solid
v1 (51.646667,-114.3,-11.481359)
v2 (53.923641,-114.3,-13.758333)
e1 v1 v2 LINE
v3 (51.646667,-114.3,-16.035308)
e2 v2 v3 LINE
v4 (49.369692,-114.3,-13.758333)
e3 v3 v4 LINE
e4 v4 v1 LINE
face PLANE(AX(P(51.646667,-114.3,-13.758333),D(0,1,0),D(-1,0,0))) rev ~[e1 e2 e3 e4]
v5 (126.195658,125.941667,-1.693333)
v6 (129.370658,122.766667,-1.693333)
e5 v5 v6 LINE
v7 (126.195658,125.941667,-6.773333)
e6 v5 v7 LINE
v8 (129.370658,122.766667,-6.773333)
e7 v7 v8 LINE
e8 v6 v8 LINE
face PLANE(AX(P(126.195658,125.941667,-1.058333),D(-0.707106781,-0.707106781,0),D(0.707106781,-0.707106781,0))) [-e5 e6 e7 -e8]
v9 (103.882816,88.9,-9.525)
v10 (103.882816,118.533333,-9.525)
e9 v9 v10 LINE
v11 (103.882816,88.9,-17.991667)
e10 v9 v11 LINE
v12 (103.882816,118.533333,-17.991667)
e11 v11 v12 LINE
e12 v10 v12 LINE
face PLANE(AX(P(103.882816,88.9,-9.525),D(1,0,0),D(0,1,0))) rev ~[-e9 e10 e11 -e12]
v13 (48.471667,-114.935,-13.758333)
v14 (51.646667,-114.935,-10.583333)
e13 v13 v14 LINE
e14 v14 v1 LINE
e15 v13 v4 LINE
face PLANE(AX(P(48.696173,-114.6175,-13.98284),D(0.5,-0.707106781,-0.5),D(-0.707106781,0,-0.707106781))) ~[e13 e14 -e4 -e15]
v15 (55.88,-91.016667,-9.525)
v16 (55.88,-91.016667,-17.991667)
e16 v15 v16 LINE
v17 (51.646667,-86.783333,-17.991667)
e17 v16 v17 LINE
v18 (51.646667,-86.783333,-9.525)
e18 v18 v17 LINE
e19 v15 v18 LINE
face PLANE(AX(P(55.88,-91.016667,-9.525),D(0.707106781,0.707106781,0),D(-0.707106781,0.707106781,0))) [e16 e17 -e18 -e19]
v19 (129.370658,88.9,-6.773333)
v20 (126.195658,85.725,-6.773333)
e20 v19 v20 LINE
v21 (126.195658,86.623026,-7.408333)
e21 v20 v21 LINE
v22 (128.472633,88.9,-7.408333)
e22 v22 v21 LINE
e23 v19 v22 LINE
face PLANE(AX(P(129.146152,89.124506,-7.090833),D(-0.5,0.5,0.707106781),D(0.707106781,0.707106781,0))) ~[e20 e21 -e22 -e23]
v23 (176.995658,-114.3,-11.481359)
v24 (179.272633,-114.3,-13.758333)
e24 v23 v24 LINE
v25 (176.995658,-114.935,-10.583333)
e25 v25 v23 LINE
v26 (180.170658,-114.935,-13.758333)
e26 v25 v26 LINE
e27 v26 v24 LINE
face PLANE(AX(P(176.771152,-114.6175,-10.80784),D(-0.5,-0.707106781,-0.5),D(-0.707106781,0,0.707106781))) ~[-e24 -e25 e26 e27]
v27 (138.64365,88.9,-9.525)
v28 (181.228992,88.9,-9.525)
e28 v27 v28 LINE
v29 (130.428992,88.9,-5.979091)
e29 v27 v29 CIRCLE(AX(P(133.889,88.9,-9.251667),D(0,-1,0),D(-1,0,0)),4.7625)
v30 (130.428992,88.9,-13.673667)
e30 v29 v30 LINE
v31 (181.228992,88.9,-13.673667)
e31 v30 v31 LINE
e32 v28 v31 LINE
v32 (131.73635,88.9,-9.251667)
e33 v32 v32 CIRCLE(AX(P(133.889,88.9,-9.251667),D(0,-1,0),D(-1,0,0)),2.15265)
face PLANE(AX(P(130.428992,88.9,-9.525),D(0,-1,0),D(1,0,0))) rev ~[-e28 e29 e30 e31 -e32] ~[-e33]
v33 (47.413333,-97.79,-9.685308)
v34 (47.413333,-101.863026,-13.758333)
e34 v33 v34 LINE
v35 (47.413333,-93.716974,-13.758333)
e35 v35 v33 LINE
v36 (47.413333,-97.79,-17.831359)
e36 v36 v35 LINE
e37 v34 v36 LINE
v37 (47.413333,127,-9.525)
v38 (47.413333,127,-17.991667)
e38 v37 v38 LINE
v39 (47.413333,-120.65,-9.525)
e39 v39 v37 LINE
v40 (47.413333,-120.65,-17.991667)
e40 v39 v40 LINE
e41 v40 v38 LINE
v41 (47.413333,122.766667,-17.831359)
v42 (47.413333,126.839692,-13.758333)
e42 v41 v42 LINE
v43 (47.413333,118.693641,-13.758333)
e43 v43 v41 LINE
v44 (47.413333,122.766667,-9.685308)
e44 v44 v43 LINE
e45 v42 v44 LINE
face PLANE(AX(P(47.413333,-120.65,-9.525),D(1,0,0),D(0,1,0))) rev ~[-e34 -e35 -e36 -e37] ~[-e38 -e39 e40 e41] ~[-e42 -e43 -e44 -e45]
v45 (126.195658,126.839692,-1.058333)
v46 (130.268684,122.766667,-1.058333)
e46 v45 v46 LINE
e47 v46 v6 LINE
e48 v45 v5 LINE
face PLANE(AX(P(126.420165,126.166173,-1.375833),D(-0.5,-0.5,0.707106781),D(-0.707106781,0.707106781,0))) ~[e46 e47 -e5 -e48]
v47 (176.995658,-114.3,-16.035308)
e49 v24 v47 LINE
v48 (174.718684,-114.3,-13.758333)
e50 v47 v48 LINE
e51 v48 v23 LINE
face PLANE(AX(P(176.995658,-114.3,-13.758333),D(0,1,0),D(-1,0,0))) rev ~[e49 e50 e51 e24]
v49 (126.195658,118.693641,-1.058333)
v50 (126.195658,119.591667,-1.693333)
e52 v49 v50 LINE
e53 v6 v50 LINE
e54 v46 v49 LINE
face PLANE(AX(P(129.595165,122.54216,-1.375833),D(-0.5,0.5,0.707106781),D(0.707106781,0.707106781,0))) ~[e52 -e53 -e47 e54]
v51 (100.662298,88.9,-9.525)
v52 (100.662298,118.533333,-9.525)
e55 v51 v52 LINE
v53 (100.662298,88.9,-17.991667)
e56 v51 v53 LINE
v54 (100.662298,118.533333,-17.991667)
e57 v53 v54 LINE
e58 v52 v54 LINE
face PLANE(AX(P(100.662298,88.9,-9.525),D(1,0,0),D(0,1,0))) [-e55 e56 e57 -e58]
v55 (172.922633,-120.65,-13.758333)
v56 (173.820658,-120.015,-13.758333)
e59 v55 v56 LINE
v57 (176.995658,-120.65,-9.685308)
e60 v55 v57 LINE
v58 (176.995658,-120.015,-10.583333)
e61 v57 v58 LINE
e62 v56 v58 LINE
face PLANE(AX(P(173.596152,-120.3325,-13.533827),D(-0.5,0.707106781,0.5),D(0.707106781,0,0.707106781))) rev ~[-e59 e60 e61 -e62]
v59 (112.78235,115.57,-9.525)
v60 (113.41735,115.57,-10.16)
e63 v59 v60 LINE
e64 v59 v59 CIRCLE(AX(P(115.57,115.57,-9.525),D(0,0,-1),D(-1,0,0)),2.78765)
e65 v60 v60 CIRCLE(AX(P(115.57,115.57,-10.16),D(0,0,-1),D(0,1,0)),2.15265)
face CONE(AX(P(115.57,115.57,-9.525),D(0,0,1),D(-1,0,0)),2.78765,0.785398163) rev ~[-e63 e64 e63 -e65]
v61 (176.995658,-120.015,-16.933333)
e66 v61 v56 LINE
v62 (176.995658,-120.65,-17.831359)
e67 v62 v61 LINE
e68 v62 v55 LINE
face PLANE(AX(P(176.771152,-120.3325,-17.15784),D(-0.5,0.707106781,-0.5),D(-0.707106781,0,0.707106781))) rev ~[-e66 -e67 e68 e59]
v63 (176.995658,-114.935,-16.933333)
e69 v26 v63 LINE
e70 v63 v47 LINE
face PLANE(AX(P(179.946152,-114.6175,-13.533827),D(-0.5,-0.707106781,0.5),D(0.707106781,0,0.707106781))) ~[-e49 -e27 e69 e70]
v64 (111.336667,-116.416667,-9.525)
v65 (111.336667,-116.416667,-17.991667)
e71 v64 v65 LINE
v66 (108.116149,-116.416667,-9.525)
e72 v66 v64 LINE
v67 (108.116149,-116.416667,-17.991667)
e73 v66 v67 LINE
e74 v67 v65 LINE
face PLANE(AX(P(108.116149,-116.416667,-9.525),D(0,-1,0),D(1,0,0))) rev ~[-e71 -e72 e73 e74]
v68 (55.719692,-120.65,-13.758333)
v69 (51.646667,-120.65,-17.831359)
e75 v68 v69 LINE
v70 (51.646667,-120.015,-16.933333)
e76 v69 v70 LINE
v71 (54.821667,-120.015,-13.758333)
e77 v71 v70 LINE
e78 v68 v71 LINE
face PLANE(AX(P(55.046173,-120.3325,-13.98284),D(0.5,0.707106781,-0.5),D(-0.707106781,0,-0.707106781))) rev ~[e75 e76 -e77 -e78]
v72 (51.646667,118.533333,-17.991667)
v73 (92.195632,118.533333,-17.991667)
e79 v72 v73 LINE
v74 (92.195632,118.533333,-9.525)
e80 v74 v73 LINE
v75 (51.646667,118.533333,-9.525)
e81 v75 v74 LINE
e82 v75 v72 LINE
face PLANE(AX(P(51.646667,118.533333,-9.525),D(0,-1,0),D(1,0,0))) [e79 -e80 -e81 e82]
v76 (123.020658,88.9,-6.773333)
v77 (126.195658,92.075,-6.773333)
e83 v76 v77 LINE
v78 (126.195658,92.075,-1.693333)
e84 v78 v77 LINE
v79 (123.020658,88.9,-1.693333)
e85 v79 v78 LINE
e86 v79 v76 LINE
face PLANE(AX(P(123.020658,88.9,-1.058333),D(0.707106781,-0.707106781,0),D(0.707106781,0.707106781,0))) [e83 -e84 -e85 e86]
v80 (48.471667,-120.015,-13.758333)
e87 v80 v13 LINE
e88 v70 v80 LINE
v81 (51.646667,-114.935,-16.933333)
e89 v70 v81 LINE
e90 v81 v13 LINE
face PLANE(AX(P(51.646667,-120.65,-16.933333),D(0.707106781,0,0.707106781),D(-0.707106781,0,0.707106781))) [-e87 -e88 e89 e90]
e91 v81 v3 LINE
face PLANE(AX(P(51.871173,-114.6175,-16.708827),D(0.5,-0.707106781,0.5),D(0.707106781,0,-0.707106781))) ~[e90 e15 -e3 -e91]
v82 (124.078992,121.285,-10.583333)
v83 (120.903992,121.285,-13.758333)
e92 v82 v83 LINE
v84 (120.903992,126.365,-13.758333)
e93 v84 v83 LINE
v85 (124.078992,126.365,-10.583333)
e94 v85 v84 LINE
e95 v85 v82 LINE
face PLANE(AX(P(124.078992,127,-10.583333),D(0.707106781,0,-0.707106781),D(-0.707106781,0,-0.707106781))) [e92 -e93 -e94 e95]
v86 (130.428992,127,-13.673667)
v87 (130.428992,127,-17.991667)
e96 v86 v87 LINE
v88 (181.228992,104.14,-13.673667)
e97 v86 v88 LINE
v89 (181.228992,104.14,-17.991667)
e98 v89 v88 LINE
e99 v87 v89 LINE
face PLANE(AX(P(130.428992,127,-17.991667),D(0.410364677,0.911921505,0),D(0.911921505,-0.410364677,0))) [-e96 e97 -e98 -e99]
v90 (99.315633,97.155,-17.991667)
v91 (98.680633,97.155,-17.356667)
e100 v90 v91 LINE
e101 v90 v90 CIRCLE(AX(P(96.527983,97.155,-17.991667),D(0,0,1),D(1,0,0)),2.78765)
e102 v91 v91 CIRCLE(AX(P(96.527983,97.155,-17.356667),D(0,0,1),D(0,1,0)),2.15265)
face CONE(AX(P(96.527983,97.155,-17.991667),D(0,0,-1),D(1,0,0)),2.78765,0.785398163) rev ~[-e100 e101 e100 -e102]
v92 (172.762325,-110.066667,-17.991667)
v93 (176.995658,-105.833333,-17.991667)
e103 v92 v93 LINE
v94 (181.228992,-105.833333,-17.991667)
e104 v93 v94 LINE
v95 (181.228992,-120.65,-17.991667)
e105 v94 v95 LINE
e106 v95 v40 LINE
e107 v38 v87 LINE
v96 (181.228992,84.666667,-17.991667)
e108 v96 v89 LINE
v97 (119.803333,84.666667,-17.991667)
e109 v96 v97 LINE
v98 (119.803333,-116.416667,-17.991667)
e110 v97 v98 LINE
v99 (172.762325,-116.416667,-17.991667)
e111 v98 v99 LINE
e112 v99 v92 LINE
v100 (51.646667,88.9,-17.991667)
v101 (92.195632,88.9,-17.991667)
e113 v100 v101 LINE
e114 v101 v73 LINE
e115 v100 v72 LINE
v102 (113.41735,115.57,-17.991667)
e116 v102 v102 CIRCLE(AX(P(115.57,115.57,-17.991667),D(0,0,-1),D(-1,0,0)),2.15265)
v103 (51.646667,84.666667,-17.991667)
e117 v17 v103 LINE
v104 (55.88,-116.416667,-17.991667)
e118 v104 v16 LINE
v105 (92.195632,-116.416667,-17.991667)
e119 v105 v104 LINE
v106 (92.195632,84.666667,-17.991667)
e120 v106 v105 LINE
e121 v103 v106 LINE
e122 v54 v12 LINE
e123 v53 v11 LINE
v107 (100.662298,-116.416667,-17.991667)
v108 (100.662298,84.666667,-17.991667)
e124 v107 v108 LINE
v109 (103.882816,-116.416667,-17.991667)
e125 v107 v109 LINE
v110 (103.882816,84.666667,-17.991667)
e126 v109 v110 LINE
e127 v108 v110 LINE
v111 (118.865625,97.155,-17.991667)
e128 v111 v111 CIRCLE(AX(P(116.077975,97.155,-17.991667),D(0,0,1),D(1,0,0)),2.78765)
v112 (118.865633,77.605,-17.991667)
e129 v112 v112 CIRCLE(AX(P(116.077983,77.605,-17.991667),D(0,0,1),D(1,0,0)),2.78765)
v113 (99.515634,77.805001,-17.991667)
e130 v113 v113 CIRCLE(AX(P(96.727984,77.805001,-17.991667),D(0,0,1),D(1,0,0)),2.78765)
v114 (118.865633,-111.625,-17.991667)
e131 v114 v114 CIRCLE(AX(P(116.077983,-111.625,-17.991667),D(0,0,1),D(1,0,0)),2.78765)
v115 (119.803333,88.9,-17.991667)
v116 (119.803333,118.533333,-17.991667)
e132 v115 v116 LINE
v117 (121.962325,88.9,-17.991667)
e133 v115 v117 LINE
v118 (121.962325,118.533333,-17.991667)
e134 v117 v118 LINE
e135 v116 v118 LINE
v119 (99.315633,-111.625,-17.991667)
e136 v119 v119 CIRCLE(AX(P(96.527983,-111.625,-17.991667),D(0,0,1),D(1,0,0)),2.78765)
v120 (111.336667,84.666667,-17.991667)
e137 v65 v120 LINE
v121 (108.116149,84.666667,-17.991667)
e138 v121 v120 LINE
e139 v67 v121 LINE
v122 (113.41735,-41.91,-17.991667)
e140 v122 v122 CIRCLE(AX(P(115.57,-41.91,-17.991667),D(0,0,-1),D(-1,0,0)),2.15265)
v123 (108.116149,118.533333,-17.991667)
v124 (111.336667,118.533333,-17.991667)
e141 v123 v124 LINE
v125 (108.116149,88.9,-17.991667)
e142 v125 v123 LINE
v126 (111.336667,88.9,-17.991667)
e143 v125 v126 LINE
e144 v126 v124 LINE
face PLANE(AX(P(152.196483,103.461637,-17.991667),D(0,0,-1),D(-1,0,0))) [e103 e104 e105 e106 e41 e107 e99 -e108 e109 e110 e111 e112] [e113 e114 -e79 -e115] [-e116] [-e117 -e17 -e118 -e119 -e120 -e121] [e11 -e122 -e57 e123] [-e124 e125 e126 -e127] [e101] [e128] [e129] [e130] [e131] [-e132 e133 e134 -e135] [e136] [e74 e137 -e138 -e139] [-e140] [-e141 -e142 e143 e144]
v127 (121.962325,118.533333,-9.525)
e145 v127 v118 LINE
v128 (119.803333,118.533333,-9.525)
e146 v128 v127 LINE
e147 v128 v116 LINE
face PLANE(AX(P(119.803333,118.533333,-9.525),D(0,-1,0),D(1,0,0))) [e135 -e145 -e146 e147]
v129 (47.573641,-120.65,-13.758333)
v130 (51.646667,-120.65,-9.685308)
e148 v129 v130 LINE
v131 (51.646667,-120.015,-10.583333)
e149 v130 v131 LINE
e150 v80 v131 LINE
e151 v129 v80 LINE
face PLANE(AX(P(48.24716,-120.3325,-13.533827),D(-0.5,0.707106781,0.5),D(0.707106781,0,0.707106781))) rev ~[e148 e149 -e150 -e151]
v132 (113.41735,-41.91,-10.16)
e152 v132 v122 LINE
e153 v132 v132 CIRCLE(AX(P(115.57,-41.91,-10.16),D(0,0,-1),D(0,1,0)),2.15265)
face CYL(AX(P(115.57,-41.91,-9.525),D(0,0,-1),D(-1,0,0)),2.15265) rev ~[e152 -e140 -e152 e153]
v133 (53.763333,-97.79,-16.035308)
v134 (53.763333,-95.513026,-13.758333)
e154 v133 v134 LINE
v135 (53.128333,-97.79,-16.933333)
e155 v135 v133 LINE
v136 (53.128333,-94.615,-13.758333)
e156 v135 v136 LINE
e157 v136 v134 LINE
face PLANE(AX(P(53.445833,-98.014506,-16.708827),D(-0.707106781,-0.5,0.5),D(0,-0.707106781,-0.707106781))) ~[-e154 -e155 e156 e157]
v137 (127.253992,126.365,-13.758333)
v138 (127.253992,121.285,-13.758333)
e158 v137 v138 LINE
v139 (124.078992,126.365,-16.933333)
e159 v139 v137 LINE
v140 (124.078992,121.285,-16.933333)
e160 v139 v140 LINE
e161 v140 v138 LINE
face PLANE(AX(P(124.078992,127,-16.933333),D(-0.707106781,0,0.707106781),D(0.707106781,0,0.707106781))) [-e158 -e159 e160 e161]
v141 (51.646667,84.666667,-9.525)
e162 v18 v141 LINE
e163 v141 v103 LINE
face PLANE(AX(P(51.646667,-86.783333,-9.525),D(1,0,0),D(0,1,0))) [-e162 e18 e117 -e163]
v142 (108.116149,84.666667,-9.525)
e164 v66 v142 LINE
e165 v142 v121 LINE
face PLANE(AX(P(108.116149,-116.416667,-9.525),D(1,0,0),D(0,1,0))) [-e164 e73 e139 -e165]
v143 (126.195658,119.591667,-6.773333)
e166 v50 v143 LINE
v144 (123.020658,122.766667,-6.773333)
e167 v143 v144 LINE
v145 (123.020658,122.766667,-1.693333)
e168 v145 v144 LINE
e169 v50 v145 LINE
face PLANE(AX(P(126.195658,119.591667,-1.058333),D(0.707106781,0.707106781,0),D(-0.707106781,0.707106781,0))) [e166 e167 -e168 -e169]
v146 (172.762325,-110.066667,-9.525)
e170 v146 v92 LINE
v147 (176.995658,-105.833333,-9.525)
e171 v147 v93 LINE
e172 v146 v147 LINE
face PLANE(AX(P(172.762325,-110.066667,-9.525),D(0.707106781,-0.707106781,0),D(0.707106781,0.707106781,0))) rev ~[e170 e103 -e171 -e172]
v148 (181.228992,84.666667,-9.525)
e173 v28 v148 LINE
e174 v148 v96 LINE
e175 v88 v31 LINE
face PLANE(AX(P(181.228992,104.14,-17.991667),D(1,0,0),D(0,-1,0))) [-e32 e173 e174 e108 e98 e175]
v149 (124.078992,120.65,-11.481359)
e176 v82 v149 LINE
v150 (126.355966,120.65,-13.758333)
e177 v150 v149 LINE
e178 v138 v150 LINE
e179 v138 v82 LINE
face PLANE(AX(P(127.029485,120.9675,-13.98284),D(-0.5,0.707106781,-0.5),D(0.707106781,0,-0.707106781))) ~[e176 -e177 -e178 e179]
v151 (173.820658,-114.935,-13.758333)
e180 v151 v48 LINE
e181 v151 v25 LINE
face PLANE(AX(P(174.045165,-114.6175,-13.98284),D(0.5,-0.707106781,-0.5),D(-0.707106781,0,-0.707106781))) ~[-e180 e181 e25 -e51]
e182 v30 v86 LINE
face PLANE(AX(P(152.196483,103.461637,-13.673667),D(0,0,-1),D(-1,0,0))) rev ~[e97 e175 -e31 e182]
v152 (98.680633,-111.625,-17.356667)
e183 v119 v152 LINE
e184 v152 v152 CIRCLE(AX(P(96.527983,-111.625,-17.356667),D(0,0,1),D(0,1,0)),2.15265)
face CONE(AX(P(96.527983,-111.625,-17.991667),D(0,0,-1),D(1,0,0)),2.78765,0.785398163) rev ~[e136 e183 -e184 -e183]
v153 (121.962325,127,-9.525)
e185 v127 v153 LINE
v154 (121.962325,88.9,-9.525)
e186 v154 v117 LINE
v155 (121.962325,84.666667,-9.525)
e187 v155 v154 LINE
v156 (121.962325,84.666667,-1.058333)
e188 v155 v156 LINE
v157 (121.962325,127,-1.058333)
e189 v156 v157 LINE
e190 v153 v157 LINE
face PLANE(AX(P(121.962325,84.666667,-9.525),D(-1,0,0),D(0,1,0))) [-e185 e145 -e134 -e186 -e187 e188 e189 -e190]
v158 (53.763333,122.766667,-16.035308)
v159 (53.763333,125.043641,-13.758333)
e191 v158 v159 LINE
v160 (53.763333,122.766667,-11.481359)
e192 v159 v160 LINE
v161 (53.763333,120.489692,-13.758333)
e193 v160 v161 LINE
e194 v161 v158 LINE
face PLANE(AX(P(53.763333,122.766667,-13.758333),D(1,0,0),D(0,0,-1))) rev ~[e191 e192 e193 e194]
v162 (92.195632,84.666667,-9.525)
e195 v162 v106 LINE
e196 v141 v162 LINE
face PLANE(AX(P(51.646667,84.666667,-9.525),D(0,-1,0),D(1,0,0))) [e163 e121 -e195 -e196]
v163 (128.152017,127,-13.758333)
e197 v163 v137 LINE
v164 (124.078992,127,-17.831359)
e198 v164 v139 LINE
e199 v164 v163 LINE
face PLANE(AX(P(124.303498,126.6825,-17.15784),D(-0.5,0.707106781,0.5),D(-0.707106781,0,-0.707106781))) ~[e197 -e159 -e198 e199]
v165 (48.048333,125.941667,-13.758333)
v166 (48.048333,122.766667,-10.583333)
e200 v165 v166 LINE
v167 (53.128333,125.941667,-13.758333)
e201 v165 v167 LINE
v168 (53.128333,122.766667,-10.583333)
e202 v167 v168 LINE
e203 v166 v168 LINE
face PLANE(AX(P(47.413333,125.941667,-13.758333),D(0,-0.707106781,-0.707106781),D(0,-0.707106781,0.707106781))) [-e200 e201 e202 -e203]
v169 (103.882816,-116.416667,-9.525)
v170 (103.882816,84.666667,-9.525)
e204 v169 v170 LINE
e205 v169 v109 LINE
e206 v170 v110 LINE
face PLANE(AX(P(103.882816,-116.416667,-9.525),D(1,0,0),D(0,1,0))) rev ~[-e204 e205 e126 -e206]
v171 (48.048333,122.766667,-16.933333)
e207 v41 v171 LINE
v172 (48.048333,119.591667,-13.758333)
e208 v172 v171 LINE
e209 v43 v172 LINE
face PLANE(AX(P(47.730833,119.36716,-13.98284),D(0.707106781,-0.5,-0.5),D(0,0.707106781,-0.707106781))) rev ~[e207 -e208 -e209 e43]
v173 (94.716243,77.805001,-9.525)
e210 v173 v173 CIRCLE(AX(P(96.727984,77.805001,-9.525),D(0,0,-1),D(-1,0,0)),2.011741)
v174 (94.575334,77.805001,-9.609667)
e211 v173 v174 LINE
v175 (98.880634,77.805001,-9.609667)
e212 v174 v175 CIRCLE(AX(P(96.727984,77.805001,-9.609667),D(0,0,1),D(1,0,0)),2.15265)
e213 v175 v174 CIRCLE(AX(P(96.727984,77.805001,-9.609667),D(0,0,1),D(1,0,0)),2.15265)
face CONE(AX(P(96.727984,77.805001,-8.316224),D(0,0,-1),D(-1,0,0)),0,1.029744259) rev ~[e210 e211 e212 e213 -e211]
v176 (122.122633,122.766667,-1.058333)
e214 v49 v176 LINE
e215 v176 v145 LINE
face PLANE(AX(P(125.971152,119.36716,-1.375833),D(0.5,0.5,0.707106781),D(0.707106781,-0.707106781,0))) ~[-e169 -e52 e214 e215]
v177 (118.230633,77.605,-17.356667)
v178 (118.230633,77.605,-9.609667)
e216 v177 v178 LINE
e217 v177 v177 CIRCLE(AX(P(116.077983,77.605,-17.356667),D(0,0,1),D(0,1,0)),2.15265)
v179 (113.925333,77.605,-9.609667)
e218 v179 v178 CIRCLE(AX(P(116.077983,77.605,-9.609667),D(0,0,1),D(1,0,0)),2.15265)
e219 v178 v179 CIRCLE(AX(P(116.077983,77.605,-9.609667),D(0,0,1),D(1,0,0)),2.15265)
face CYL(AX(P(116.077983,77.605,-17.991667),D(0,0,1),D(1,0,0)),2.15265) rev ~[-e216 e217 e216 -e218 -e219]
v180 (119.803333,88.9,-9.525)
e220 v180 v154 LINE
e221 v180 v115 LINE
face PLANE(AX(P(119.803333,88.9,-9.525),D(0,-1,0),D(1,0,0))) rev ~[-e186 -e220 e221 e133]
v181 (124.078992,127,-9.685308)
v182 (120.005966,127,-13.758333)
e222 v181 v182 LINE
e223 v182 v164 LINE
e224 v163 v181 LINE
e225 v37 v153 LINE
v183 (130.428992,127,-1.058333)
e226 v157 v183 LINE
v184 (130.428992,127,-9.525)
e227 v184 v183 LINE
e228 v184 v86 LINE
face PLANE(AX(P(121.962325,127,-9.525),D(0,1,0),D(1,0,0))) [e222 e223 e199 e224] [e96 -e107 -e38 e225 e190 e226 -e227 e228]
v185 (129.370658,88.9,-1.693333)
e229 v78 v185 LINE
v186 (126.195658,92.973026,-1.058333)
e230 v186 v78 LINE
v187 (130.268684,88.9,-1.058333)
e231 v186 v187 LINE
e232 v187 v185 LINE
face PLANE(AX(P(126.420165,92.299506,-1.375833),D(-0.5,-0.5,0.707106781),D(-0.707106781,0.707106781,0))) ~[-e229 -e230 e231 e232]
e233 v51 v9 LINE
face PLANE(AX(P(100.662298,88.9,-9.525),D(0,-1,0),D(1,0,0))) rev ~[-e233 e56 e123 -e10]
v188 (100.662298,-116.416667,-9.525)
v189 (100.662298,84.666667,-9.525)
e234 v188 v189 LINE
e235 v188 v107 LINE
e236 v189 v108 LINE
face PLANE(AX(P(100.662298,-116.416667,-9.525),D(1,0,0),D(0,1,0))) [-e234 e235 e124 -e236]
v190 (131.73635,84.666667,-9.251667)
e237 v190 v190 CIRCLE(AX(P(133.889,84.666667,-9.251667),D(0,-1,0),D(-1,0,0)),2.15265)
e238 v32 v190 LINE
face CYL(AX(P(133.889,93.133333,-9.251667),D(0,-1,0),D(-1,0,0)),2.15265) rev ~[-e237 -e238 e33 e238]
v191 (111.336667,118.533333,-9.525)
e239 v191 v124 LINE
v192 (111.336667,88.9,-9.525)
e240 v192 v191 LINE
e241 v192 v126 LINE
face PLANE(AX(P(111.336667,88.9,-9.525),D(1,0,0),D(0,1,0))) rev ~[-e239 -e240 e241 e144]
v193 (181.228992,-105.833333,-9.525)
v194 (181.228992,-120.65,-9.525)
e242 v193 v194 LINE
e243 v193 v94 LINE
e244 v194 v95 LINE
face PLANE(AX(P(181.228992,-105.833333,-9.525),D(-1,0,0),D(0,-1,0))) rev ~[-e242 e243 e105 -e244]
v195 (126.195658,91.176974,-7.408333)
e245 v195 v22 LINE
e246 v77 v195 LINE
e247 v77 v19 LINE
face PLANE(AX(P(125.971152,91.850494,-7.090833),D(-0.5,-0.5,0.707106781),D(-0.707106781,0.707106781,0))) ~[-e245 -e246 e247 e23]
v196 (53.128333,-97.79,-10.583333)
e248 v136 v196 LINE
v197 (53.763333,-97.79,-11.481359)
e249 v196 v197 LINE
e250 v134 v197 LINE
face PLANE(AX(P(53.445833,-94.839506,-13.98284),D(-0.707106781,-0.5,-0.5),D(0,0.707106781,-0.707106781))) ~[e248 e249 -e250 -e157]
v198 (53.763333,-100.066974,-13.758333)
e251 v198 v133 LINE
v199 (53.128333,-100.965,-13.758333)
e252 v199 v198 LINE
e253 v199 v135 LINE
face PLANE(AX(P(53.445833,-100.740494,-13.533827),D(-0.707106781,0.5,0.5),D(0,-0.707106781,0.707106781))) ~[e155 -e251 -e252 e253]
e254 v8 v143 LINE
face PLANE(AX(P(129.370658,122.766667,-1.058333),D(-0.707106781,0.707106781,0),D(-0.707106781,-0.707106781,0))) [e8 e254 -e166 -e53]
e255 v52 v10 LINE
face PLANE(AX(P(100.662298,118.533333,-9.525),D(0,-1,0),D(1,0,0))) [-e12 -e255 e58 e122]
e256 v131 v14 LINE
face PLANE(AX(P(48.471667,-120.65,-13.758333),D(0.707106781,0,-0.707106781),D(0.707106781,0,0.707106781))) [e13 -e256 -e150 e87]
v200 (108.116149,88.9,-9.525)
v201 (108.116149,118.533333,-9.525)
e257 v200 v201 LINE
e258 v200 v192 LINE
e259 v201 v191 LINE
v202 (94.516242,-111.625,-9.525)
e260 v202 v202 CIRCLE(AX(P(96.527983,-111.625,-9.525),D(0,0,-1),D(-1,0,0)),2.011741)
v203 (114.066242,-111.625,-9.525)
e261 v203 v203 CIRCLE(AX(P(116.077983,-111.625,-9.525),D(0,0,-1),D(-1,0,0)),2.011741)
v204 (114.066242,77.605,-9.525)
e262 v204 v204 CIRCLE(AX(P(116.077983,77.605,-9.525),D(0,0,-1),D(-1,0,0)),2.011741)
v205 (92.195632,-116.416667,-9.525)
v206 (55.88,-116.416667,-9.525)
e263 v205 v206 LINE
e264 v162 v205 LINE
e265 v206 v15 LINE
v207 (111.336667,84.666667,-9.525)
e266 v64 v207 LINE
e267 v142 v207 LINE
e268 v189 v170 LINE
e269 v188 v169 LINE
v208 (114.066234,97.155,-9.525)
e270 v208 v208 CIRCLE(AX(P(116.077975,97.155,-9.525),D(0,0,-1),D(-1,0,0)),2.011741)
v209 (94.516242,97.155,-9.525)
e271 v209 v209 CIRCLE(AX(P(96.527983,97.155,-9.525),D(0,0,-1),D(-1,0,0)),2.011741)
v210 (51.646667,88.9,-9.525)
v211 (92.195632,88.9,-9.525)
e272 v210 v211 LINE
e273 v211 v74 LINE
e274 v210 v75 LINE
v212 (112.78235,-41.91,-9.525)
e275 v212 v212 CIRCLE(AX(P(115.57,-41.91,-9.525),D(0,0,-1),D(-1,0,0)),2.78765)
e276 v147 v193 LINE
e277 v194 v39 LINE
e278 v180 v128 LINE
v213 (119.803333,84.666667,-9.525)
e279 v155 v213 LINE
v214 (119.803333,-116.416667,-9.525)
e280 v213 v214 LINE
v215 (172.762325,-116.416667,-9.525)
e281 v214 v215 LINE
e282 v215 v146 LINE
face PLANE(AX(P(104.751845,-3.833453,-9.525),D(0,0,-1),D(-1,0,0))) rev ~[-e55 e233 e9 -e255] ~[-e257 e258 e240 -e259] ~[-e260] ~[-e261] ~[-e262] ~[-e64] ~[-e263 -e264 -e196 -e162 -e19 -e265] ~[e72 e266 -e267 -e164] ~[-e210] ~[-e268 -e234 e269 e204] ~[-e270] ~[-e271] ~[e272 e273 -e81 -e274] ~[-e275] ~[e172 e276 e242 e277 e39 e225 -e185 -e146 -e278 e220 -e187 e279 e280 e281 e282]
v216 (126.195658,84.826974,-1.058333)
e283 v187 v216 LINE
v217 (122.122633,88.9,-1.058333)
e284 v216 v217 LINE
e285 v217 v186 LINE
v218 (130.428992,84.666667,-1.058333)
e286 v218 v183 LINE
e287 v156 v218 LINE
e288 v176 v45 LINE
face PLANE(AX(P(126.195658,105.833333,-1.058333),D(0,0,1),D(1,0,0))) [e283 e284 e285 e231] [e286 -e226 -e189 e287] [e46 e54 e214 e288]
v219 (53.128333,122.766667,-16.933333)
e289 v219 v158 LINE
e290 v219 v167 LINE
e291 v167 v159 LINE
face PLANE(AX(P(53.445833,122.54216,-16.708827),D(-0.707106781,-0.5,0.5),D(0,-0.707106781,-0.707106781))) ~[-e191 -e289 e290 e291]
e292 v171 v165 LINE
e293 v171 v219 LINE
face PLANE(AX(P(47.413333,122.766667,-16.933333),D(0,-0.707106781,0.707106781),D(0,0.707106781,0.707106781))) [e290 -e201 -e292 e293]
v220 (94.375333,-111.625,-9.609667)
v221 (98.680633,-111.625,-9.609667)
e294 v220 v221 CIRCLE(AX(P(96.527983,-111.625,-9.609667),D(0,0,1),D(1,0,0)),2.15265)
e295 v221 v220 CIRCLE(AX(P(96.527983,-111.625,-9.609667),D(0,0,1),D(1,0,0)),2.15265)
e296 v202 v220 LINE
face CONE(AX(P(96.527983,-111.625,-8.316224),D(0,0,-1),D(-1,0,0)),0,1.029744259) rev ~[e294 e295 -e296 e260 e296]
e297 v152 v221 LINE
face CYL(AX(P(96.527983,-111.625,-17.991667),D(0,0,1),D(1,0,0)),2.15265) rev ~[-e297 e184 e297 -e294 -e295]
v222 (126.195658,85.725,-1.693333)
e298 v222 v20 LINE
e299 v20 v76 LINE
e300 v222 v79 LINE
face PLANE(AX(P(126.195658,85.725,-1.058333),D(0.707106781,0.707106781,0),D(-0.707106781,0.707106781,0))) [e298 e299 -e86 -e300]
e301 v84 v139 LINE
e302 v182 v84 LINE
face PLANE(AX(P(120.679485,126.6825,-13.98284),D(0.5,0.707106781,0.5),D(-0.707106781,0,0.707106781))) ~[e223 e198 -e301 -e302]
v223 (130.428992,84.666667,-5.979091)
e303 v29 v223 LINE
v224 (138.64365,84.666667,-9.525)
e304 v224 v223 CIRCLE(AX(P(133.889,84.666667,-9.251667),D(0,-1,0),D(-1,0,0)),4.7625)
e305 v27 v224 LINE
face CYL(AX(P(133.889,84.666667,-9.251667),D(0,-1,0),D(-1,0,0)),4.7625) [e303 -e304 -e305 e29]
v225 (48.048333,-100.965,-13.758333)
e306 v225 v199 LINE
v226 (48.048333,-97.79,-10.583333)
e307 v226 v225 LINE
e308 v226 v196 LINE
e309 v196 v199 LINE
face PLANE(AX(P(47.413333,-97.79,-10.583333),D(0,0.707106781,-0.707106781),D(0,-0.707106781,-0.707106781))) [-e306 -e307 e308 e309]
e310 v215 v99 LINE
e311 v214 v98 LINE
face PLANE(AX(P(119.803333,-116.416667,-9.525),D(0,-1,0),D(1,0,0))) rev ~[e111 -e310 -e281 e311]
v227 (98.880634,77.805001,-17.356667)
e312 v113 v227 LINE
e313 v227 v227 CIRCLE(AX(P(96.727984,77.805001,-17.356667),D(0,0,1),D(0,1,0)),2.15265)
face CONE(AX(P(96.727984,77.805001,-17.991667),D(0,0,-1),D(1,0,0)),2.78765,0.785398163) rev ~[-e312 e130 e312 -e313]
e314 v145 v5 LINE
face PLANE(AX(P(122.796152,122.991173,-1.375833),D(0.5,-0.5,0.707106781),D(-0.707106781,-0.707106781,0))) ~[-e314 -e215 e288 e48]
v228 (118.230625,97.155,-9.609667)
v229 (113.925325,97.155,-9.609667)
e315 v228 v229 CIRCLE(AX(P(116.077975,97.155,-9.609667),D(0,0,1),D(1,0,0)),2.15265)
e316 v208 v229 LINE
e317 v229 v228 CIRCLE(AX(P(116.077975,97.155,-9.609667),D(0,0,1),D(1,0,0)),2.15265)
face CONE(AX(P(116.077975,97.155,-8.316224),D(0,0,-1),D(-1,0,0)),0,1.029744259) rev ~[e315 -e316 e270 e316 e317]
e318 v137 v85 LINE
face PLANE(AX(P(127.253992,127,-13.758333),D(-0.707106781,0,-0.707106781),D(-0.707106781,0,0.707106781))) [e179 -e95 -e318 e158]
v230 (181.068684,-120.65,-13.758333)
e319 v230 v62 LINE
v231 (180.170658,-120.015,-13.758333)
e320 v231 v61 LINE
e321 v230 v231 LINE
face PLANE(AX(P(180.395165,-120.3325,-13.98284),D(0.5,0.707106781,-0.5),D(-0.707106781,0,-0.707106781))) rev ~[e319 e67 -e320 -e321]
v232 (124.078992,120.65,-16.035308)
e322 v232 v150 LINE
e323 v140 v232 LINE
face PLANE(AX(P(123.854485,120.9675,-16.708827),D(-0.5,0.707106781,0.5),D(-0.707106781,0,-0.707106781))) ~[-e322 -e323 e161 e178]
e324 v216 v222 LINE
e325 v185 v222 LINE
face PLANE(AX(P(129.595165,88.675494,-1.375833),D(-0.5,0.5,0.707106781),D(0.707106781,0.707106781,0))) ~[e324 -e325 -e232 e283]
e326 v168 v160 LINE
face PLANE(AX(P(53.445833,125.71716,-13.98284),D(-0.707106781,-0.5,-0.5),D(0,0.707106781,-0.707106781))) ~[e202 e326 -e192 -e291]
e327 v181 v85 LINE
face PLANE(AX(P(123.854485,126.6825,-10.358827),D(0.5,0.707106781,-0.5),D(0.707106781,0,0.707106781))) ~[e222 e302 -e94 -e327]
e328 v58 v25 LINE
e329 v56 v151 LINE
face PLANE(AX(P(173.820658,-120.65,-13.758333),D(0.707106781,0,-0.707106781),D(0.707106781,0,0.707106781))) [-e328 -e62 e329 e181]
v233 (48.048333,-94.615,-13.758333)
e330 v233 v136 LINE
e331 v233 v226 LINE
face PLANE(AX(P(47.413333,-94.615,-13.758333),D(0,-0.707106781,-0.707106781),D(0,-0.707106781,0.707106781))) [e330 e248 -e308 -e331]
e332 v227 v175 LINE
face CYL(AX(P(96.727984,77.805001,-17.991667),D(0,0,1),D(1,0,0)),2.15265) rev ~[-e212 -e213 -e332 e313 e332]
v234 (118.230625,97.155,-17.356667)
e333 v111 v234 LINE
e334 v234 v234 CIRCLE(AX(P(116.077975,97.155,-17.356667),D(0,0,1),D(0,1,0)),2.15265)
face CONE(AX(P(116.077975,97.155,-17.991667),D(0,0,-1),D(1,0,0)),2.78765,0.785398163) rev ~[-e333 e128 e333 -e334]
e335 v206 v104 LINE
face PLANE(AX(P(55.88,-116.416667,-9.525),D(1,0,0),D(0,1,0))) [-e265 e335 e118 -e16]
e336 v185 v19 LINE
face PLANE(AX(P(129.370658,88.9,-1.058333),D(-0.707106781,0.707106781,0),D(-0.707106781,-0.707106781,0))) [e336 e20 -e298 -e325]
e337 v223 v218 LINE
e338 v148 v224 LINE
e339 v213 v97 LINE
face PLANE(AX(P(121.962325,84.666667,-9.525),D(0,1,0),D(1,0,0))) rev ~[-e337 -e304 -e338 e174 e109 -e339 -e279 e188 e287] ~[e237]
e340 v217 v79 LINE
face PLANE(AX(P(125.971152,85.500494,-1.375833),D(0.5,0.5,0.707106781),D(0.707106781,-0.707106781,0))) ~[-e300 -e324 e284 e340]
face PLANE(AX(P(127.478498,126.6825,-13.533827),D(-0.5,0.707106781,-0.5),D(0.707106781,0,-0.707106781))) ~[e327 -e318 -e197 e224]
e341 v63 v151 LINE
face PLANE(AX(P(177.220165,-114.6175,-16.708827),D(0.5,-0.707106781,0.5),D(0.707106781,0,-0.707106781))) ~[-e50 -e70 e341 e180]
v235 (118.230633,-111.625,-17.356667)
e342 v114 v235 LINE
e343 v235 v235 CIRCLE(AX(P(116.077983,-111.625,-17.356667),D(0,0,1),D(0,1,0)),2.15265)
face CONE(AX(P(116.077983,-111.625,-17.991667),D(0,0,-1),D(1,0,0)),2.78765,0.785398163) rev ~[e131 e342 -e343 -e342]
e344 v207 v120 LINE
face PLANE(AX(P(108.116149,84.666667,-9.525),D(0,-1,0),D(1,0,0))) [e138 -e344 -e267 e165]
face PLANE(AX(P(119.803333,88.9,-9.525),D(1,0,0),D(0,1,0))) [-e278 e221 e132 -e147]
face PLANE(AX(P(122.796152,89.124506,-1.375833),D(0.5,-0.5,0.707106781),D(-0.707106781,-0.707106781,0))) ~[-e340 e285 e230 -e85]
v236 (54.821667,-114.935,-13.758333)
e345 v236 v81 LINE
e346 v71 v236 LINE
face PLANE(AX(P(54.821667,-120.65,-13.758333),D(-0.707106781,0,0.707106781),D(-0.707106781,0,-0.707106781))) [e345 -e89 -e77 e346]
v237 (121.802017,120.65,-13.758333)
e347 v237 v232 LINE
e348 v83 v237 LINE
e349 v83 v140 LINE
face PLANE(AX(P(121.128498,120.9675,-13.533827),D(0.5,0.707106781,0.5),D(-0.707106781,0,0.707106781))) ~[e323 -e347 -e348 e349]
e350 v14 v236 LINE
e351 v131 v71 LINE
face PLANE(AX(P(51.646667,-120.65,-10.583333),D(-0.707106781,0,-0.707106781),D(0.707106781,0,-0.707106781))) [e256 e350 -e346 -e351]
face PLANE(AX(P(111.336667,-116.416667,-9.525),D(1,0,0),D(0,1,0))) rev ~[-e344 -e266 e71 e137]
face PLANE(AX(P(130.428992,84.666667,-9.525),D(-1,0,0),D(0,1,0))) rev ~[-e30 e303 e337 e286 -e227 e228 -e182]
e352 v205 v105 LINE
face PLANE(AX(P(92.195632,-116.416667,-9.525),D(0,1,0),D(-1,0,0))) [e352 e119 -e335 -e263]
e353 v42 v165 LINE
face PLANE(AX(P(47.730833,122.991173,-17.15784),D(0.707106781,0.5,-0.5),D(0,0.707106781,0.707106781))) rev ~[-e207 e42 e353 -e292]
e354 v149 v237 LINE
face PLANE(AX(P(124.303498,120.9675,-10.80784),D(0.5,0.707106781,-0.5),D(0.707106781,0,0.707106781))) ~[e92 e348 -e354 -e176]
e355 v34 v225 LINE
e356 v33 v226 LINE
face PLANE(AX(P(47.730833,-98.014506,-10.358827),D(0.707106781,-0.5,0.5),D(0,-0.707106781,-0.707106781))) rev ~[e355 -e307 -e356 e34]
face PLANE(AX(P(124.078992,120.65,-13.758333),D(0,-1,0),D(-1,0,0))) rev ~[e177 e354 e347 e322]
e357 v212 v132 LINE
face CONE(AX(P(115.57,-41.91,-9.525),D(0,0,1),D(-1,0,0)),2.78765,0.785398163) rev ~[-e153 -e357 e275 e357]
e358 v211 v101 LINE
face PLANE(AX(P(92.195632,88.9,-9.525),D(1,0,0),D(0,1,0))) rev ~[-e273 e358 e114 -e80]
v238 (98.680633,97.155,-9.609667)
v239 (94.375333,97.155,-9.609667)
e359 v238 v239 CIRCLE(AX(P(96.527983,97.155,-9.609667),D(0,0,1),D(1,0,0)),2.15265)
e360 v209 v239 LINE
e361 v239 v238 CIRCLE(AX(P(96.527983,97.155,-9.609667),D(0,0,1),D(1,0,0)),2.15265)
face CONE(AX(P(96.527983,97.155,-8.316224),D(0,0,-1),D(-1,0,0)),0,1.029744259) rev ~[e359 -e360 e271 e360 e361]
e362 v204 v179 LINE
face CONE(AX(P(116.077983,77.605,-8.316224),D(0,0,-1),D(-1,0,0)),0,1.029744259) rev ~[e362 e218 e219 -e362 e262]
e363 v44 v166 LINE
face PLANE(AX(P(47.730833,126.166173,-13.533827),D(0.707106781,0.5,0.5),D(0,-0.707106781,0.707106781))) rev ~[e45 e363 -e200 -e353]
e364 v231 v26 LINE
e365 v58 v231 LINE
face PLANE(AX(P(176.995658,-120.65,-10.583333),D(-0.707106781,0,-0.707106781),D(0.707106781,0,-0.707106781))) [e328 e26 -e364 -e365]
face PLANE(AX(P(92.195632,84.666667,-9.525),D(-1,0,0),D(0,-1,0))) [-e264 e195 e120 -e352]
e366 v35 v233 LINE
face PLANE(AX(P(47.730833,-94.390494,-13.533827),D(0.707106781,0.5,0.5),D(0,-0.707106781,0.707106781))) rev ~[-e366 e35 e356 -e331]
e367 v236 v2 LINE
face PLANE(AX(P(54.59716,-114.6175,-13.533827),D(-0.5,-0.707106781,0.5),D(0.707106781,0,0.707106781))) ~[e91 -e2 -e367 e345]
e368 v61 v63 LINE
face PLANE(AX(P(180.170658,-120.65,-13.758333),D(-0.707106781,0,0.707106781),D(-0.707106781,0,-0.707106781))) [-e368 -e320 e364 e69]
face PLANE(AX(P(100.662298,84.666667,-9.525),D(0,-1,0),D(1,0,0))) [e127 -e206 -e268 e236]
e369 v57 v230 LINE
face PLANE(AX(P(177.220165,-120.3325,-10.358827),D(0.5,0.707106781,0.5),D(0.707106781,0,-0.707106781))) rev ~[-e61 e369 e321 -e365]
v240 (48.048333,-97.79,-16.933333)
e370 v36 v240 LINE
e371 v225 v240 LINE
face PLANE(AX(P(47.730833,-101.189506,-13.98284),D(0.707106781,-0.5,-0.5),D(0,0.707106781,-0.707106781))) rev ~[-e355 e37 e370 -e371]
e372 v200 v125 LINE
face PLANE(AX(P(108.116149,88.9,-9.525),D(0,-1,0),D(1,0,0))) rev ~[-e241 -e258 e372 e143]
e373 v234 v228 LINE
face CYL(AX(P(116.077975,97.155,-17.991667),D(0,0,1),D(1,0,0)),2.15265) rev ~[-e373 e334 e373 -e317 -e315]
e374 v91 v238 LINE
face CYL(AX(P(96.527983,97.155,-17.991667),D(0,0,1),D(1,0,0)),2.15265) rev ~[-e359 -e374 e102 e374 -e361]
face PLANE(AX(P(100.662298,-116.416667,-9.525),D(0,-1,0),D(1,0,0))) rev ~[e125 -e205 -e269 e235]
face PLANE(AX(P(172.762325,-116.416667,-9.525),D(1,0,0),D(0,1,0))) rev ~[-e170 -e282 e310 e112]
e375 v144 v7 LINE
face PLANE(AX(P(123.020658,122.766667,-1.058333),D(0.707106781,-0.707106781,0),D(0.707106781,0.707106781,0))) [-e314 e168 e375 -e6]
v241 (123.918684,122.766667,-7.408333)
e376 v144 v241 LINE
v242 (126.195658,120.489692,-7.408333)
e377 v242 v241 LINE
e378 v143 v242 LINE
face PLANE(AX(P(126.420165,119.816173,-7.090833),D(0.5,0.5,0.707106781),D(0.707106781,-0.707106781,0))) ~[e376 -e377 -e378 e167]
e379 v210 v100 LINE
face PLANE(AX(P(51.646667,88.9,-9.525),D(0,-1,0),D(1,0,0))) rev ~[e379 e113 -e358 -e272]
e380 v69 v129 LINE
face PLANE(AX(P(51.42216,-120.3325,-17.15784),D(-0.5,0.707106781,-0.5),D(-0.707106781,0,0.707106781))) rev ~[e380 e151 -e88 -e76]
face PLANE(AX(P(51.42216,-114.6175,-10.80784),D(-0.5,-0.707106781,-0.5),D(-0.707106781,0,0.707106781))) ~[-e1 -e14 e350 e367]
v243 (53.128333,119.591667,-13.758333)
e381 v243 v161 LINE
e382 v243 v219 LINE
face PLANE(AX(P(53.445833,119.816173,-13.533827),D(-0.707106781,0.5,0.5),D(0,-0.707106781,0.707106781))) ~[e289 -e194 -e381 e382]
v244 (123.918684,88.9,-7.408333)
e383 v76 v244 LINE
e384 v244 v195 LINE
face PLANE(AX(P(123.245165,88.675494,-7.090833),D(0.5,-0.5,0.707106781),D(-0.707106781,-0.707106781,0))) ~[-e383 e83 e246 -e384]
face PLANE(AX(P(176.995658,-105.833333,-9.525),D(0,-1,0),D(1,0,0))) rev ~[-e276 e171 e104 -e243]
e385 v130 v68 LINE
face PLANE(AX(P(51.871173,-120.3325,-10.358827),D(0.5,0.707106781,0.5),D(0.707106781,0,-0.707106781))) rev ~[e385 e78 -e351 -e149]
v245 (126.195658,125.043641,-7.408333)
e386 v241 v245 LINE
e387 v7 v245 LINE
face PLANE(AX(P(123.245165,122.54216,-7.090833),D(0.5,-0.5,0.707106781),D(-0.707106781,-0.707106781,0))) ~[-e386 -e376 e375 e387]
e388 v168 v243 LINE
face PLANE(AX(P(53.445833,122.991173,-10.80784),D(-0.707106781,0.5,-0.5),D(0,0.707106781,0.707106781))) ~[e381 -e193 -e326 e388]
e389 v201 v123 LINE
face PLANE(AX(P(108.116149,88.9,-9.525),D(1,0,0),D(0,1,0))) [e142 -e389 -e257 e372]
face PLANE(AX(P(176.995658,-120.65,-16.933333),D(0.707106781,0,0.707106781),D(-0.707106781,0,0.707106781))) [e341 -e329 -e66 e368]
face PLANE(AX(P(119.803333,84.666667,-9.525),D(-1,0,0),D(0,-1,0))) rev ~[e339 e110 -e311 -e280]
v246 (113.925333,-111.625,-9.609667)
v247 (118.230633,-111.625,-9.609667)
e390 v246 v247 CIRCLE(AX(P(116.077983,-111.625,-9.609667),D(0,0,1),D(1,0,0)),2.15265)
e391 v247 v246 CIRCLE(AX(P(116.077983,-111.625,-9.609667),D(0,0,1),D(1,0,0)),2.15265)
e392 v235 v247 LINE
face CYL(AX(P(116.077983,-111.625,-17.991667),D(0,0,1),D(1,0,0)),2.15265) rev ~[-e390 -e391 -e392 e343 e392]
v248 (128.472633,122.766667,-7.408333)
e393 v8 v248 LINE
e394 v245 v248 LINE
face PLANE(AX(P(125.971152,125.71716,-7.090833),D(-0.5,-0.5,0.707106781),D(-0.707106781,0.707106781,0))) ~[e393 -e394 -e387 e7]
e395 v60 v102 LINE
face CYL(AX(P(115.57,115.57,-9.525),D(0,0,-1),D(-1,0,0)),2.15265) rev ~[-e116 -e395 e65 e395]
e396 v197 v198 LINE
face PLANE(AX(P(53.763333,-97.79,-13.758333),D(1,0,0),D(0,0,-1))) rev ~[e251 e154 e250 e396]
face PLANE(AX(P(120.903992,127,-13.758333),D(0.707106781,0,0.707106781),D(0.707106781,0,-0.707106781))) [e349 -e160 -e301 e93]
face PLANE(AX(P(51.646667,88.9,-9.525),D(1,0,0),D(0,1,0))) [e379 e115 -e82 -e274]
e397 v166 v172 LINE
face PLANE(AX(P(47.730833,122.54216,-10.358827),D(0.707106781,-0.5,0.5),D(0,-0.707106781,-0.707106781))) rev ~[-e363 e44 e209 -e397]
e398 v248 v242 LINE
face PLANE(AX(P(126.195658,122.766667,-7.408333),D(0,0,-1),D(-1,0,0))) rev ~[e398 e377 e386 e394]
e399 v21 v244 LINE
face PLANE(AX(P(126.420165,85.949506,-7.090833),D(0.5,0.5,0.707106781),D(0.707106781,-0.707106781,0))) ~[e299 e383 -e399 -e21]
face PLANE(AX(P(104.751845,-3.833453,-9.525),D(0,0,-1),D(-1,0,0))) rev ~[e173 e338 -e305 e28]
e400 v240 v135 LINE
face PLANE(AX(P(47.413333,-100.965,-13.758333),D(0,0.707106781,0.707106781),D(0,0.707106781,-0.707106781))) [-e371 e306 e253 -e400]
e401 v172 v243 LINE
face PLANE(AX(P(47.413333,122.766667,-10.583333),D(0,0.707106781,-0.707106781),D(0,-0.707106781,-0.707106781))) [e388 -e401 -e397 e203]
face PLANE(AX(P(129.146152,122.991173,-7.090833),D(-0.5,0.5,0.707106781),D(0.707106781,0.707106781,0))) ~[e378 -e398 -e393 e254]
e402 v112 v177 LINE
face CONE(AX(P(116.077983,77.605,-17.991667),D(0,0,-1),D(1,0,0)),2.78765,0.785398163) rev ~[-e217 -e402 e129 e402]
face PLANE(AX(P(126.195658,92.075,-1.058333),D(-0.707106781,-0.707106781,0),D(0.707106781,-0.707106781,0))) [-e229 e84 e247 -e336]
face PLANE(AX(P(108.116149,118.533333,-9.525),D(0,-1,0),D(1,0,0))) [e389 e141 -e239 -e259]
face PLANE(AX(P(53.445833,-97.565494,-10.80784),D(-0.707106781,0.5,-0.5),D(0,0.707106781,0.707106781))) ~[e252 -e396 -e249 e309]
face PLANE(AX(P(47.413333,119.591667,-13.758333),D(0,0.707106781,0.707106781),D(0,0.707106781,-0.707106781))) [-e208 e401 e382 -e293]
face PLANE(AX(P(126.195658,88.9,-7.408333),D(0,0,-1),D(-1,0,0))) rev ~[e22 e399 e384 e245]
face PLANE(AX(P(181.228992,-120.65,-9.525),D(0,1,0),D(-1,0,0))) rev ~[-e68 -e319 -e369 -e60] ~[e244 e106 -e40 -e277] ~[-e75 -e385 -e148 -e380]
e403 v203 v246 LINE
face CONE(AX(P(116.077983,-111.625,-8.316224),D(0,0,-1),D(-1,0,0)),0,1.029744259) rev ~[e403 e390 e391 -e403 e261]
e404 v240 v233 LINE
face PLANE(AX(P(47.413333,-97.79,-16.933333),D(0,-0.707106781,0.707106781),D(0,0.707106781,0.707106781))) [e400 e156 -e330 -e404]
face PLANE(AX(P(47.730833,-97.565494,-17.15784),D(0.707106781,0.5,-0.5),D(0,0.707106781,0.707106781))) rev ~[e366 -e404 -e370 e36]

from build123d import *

# Parameters (mm, degrees)
BOSS_EXTRUDE1_START                    = -9.525
SKETCH1_W                              = 2.158991534
SKETCH1_H                              = 29.633333333
SKETCH1_W_2                            = 40.548965045
SKETCH1_W_3                            = 3.220517478
SKETCH1_W_4                            = 3.220517477
SKETCH1_H_2                            = 201.083333334
BOSS_EXTRUDE1_DEPTH                    = 8.466666667
BOSS_EXTRUDE2_DEPTH                    = 4.318
SKETCH16_W                             = 8.466666666
SKETCH16_H                             = 42.333333333
BOSS_EXTRUDE3_DEPTH                    = 8.466666667
SKETCH18_R                             = 4.7625
BOSS_EXTRUDE4_DEPTH                    = 4.233333333
F_18_0_1695_DIAMETER_HOLE3_D           = 4.3053
F_18_0_1695_DIAMETER_HOLE3_DEPTH       = 4.233333333
F_18_0_1695_DIAMETER_HOLE1_D           = 4.3053
F_18_0_1695_DIAMETER_HOLE1_CSINK_D     = 5.5753
F_18_0_1695_DIAMETER_HOLE1_CSINK_ANGLE = 90
BOTTOM_PINS_DEPTH                      = 6.35
REAR_PINS_DEPTH                        = 6.35
LEFT_PINS_DEPTH                        = 6.35
CUT_EXTRUDE3_DEPTH                     = 6.35
CHAMFER2_SIZE                          = 0.635
F_18_0_1695_DIAMETER_HOLE2_D           = 4.3053
F_18_0_1695_DIAMETER_HOLE2_DEPTH       = 8.382
F_18_0_1695_DIAMETER_HOLE2_CSINK_D     = 5.5753
F_18_0_1695_DIAMETER_HOLE2_CSINK_ANGLE = 90
F_18_0_1695_DIAMETER_HOLE2_TIP         = 1.293442612


with BuildPart() as part:
    # Sketch1 → Boss-Extrude1 (new body)
    with BuildSketch(Plane.XY.offset(BOSS_EXTRUDE1_START)):
        Polygon((47.413333333, 127), (130.428991533, 127), (130.428991533, 88.9), (181.228991533, 88.9), (181.228991533, 84.666666667), (119.803333333, 84.666666667), (119.803333333, -116.416666667), (172.762324867, -116.416666667), (172.762324867, -110.066666667), (176.9956582, -105.833333333), (181.228991533, -105.833333333), (181.228991533, -120.65), (47.413333333, -120.65), align=None)
        with Locations((120.8828291, 103.716666667)):
            Rectangle(SKETCH1_W, SKETCH1_H, mode=Mode.SUBTRACT)
        Polygon((55.88, -116.416666667), (55.88, -91.016666667), (51.646666667, -86.783333333), (51.646666667, 84.666666667), (92.195631712, 84.666666667), (92.195631712, -116.416666667), align=None, mode=Mode.SUBTRACT)
        with Locations((71.921149189, 103.716666667)):
            Rectangle(SKETCH1_W_2, SKETCH1_H, mode=Mode.SUBTRACT)
        with Locations((109.726407928, 103.716666667)):
            Rectangle(SKETCH1_W_3, SKETCH1_H, mode=Mode.SUBTRACT)
        with Locations((102.272557118, -15.875)):
            Rectangle(SKETCH1_W_4, SKETCH1_H_2, mode=Mode.SUBTRACT)
        with Locations((102.272557118, 103.716666667)):
            Rectangle(SKETCH1_W_4, SKETCH1_H, mode=Mode.SUBTRACT)
        with Locations((109.726407928, -15.875)):
            Rectangle(SKETCH1_W_3, SKETCH1_H_2, mode=Mode.SUBTRACT)
    extrude(amount=-BOSS_EXTRUDE1_DEPTH)

    # Sketch9 → Boss-Extrude2 (add)
    with BuildSketch(Plane.XY.offset(-17.991666667)):
        Polygon((181.228991533, 88.9), (130.428991533, 88.9), (130.428991533, 127), (181.228991533, 104.14), align=None)
    extrude(amount=BOSS_EXTRUDE2_DEPTH)

    # Sketch16 → Boss-Extrude3 (add)
    with BuildSketch(Plane.XY.offset(-9.525)):
        with Locations((126.1956582, 105.833333334)):
            Rectangle(SKETCH16_W, SKETCH16_H)
    extrude(amount=BOSS_EXTRUDE3_DEPTH)

    # Sketch18 → Boss-Extrude4 (add)
    with BuildSketch(Plane(origin=(0, 84.666666667, 0), x_dir=(-1, 0, 0), z_dir=(0, -1, 0))):
        with Locations((-133.889, 9.251666559)):
            Circle(SKETCH18_R)
    extrude(amount=-BOSS_EXTRUDE4_DEPTH)

    # #18 (0.1695) Diameter Hole3
    with Locations(Plane(origin=(0, 88.9, 0), x_dir=(1, 0, 0), z_dir=(0, 1, 0))):
        with Locations((133.889, 9.251666559)):
            Hole(F_18_0_1695_DIAMETER_HOLE3_D / 2, depth=F_18_0_1695_DIAMETER_HOLE3_DEPTH)

    # #18 (0.1695) Diameter Hole1 (through all)
    with Locations(Plane.XY.offset(-9.525)):
        with Locations((115.57, 115.57), (115.57, -41.91)):
            CounterSinkHole(F_18_0_1695_DIAMETER_HOLE1_D / 2, F_18_0_1695_DIAMETER_HOLE1_CSINK_D / 2, counter_sink_angle=F_18_0_1695_DIAMETER_HOLE1_CSINK_ANGLE)

    # Sketch2 → bottom pins (cut)
    with BuildSketch(Plane.XZ.offset(120.65)):
        Polygon((173.8206582, -13.758333333), (176.9956582, -10.583333333), (180.1706582, -13.758333333), (176.9956582, -16.933333333), align=None)
        Polygon((48.471666667, -13.758333333), (51.646666667, -10.583333333), (54.821666667, -13.758333333), (51.646666667, -16.933333333), align=None)
    extrude(amount=-BOTTOM_PINS_DEPTH, mode=Mode.SUBTRACT)

    # Sketch3 → rear pins (cut)
    with BuildSketch(Plane.ZY.offset(-47.413333333)):
        Polygon((-16.933333333, 122.766666667), (-13.758333333, 125.941666667), (-10.583333333, 122.766666667), (-13.758333333, 119.591666667), align=None)
        Polygon((-16.933333333, -97.79), (-13.758333333, -94.615), (-10.583333333, -97.79), (-13.758333333, -100.965), align=None)
    extrude(amount=-REAR_PINS_DEPTH, mode=Mode.SUBTRACT)

    # Sketch8 → left pins (cut)
    with BuildSketch(Plane.XY.offset(-1.058333333)):
        Polygon((123.0206582, 88.9), (126.1956582, 92.075), (129.3706582, 88.9), (126.1956582, 85.725), align=None)
        Polygon((123.0206582, 122.766666667), (126.1956582, 125.941666667), (129.3706582, 122.766666667), (126.1956582, 119.591666667), align=None)
    extrude(amount=-LEFT_PINS_DEPTH, mode=Mode.SUBTRACT)

    # Sketch24 → Cut-Extrude3 (cut)
    with BuildSketch(Plane(origin=(0, 127, 0), x_dir=(1, 0, 0), z_dir=(0, 1, 0))):
        Polygon((120.903991533, 13.758333333), (124.078991533, 16.933333333), (127.253991533, 13.758333333), (124.078991533, 10.583333333), align=None)
    extrude(amount=-CUT_EXTRUDE3_DEPTH, mode=Mode.SUBTRACT)

    # Chamfer2
    chamfer2_edges = [part.edges().sort_by_distance(p)[0] for p in [
        (175.4081582, -114.3, -15.345833333),
        (175.4081582, -114.3, -12.170833333),
        (178.5831582, -114.3, -12.170833333),
        (178.5831582, -114.3, -15.345833333),
        (175.4081582, -120.65, -15.345833333),
        (178.5831582, -120.65, -15.345833333),
        (178.5831582, -120.65, -12.170833333),
        (175.4081582, -120.65, -12.170833333),
        (50.059166667, -114.3, -15.345833333),
        (50.059166667, -114.3, -12.170833333),
        (53.234166667, -114.3, -12.170833333),
        (53.234166667, -114.3, -15.345833333),
        (50.059166667, -120.65, -15.345833333),
        (53.234166667, -120.65, -15.345833333),
        (53.234166667, -120.65, -12.170833333),
        (50.059166667, -120.65, -12.170833333),
        (53.763333333, 121.179166667, -15.345833333),
        (53.763333333, 124.354166667, -15.345833333),
        (53.763333333, 124.354166667, -12.170833333),
        (53.763333333, 121.179166667, -12.170833333),
        (47.413333333, 121.179166667, -15.345833333),
        (47.413333333, 121.179166667, -12.170833333),
        (47.413333333, 124.354166667, -12.170833333),
        (47.413333333, 124.354166667, -15.345833333),
        (53.763333333, -99.3775, -15.345833333),
        (53.763333333, -96.2025, -15.345833333),
        (53.763333333, -96.2025, -12.170833333),
        (53.763333333, -99.3775, -12.170833333),
        (47.413333333, -99.3775, -15.345833333),
        (47.413333333, -99.3775, -12.170833333),
        (47.413333333, -96.2025, -12.170833333),
        (47.413333333, -96.2025, -15.345833333),
        (124.6081582, 87.3125, -7.408333333),
        (124.6081582, 90.4875, -7.408333333),
        (127.7831582, 90.4875, -7.408333333),
        (127.7831582, 87.3125, -7.408333333),
        (124.6081582, 87.3125, -1.058333333),
        (127.7831582, 87.3125, -1.058333333),
        (127.7831582, 90.4875, -1.058333333),
        (124.6081582, 90.4875, -1.058333333),
        (124.6081582, 121.179166667, -7.408333333),
        (124.6081582, 124.354166667, -7.408333333),
        (127.7831582, 124.354166667, -7.408333333),
        (127.7831582, 121.179166667, -7.408333333),
        (124.6081582, 121.179166667, -1.058333333),
        (127.7831582, 121.179166667, -1.058333333),
        (127.7831582, 124.354166667, -1.058333333),
        (124.6081582, 124.354166667, -1.058333333),
        (122.491491533, 120.65, -12.170833333),
        (122.491491533, 120.65, -15.345833333),
        (125.666491533, 120.65, -15.345833333),
        (125.666491533, 120.65, -12.170833333),
        (122.491491533, 127, -12.170833333),
        (125.666491533, 127, -12.170833333),
        (125.666491533, 127, -15.345833333),
        (122.491491533, 127, -15.345833333),
    ]]
    chamfer(chamfer2_edges, length=CHAMFER2_SIZE)

    # #18 (0.1695) Diameter Hole2
    with Locations(Plane(origin=(0, 0, -17.991666667), x_dir=(-1, 0, 0), z_dir=(0, 0, -1))):
        with Locations((-116.077975238, 97.155), (-96.527983128, 97.155), (-96.727984128, 77.805001), (-116.077983128, 77.605), (-116.077983128, -111.625), (-96.527983128, -111.625)):
            CounterSinkHole(F_18_0_1695_DIAMETER_HOLE2_D / 2, F_18_0_1695_DIAMETER_HOLE2_CSINK_D / 2, depth=F_18_0_1695_DIAMETER_HOLE2_DEPTH, counter_sink_angle=F_18_0_1695_DIAMETER_HOLE2_CSINK_ANGLE)
            with Locations((0, 0, -(F_18_0_1695_DIAMETER_HOLE2_DEPTH + F_18_0_1695_DIAMETER_HOLE2_TIP / 2))):  # 118° drill point
                Cone(0, F_18_0_1695_DIAMETER_HOLE2_D / 2, F_18_0_1695_DIAMETER_HOLE2_TIP, mode=Mode.SUBTRACT)


solid = part.part
